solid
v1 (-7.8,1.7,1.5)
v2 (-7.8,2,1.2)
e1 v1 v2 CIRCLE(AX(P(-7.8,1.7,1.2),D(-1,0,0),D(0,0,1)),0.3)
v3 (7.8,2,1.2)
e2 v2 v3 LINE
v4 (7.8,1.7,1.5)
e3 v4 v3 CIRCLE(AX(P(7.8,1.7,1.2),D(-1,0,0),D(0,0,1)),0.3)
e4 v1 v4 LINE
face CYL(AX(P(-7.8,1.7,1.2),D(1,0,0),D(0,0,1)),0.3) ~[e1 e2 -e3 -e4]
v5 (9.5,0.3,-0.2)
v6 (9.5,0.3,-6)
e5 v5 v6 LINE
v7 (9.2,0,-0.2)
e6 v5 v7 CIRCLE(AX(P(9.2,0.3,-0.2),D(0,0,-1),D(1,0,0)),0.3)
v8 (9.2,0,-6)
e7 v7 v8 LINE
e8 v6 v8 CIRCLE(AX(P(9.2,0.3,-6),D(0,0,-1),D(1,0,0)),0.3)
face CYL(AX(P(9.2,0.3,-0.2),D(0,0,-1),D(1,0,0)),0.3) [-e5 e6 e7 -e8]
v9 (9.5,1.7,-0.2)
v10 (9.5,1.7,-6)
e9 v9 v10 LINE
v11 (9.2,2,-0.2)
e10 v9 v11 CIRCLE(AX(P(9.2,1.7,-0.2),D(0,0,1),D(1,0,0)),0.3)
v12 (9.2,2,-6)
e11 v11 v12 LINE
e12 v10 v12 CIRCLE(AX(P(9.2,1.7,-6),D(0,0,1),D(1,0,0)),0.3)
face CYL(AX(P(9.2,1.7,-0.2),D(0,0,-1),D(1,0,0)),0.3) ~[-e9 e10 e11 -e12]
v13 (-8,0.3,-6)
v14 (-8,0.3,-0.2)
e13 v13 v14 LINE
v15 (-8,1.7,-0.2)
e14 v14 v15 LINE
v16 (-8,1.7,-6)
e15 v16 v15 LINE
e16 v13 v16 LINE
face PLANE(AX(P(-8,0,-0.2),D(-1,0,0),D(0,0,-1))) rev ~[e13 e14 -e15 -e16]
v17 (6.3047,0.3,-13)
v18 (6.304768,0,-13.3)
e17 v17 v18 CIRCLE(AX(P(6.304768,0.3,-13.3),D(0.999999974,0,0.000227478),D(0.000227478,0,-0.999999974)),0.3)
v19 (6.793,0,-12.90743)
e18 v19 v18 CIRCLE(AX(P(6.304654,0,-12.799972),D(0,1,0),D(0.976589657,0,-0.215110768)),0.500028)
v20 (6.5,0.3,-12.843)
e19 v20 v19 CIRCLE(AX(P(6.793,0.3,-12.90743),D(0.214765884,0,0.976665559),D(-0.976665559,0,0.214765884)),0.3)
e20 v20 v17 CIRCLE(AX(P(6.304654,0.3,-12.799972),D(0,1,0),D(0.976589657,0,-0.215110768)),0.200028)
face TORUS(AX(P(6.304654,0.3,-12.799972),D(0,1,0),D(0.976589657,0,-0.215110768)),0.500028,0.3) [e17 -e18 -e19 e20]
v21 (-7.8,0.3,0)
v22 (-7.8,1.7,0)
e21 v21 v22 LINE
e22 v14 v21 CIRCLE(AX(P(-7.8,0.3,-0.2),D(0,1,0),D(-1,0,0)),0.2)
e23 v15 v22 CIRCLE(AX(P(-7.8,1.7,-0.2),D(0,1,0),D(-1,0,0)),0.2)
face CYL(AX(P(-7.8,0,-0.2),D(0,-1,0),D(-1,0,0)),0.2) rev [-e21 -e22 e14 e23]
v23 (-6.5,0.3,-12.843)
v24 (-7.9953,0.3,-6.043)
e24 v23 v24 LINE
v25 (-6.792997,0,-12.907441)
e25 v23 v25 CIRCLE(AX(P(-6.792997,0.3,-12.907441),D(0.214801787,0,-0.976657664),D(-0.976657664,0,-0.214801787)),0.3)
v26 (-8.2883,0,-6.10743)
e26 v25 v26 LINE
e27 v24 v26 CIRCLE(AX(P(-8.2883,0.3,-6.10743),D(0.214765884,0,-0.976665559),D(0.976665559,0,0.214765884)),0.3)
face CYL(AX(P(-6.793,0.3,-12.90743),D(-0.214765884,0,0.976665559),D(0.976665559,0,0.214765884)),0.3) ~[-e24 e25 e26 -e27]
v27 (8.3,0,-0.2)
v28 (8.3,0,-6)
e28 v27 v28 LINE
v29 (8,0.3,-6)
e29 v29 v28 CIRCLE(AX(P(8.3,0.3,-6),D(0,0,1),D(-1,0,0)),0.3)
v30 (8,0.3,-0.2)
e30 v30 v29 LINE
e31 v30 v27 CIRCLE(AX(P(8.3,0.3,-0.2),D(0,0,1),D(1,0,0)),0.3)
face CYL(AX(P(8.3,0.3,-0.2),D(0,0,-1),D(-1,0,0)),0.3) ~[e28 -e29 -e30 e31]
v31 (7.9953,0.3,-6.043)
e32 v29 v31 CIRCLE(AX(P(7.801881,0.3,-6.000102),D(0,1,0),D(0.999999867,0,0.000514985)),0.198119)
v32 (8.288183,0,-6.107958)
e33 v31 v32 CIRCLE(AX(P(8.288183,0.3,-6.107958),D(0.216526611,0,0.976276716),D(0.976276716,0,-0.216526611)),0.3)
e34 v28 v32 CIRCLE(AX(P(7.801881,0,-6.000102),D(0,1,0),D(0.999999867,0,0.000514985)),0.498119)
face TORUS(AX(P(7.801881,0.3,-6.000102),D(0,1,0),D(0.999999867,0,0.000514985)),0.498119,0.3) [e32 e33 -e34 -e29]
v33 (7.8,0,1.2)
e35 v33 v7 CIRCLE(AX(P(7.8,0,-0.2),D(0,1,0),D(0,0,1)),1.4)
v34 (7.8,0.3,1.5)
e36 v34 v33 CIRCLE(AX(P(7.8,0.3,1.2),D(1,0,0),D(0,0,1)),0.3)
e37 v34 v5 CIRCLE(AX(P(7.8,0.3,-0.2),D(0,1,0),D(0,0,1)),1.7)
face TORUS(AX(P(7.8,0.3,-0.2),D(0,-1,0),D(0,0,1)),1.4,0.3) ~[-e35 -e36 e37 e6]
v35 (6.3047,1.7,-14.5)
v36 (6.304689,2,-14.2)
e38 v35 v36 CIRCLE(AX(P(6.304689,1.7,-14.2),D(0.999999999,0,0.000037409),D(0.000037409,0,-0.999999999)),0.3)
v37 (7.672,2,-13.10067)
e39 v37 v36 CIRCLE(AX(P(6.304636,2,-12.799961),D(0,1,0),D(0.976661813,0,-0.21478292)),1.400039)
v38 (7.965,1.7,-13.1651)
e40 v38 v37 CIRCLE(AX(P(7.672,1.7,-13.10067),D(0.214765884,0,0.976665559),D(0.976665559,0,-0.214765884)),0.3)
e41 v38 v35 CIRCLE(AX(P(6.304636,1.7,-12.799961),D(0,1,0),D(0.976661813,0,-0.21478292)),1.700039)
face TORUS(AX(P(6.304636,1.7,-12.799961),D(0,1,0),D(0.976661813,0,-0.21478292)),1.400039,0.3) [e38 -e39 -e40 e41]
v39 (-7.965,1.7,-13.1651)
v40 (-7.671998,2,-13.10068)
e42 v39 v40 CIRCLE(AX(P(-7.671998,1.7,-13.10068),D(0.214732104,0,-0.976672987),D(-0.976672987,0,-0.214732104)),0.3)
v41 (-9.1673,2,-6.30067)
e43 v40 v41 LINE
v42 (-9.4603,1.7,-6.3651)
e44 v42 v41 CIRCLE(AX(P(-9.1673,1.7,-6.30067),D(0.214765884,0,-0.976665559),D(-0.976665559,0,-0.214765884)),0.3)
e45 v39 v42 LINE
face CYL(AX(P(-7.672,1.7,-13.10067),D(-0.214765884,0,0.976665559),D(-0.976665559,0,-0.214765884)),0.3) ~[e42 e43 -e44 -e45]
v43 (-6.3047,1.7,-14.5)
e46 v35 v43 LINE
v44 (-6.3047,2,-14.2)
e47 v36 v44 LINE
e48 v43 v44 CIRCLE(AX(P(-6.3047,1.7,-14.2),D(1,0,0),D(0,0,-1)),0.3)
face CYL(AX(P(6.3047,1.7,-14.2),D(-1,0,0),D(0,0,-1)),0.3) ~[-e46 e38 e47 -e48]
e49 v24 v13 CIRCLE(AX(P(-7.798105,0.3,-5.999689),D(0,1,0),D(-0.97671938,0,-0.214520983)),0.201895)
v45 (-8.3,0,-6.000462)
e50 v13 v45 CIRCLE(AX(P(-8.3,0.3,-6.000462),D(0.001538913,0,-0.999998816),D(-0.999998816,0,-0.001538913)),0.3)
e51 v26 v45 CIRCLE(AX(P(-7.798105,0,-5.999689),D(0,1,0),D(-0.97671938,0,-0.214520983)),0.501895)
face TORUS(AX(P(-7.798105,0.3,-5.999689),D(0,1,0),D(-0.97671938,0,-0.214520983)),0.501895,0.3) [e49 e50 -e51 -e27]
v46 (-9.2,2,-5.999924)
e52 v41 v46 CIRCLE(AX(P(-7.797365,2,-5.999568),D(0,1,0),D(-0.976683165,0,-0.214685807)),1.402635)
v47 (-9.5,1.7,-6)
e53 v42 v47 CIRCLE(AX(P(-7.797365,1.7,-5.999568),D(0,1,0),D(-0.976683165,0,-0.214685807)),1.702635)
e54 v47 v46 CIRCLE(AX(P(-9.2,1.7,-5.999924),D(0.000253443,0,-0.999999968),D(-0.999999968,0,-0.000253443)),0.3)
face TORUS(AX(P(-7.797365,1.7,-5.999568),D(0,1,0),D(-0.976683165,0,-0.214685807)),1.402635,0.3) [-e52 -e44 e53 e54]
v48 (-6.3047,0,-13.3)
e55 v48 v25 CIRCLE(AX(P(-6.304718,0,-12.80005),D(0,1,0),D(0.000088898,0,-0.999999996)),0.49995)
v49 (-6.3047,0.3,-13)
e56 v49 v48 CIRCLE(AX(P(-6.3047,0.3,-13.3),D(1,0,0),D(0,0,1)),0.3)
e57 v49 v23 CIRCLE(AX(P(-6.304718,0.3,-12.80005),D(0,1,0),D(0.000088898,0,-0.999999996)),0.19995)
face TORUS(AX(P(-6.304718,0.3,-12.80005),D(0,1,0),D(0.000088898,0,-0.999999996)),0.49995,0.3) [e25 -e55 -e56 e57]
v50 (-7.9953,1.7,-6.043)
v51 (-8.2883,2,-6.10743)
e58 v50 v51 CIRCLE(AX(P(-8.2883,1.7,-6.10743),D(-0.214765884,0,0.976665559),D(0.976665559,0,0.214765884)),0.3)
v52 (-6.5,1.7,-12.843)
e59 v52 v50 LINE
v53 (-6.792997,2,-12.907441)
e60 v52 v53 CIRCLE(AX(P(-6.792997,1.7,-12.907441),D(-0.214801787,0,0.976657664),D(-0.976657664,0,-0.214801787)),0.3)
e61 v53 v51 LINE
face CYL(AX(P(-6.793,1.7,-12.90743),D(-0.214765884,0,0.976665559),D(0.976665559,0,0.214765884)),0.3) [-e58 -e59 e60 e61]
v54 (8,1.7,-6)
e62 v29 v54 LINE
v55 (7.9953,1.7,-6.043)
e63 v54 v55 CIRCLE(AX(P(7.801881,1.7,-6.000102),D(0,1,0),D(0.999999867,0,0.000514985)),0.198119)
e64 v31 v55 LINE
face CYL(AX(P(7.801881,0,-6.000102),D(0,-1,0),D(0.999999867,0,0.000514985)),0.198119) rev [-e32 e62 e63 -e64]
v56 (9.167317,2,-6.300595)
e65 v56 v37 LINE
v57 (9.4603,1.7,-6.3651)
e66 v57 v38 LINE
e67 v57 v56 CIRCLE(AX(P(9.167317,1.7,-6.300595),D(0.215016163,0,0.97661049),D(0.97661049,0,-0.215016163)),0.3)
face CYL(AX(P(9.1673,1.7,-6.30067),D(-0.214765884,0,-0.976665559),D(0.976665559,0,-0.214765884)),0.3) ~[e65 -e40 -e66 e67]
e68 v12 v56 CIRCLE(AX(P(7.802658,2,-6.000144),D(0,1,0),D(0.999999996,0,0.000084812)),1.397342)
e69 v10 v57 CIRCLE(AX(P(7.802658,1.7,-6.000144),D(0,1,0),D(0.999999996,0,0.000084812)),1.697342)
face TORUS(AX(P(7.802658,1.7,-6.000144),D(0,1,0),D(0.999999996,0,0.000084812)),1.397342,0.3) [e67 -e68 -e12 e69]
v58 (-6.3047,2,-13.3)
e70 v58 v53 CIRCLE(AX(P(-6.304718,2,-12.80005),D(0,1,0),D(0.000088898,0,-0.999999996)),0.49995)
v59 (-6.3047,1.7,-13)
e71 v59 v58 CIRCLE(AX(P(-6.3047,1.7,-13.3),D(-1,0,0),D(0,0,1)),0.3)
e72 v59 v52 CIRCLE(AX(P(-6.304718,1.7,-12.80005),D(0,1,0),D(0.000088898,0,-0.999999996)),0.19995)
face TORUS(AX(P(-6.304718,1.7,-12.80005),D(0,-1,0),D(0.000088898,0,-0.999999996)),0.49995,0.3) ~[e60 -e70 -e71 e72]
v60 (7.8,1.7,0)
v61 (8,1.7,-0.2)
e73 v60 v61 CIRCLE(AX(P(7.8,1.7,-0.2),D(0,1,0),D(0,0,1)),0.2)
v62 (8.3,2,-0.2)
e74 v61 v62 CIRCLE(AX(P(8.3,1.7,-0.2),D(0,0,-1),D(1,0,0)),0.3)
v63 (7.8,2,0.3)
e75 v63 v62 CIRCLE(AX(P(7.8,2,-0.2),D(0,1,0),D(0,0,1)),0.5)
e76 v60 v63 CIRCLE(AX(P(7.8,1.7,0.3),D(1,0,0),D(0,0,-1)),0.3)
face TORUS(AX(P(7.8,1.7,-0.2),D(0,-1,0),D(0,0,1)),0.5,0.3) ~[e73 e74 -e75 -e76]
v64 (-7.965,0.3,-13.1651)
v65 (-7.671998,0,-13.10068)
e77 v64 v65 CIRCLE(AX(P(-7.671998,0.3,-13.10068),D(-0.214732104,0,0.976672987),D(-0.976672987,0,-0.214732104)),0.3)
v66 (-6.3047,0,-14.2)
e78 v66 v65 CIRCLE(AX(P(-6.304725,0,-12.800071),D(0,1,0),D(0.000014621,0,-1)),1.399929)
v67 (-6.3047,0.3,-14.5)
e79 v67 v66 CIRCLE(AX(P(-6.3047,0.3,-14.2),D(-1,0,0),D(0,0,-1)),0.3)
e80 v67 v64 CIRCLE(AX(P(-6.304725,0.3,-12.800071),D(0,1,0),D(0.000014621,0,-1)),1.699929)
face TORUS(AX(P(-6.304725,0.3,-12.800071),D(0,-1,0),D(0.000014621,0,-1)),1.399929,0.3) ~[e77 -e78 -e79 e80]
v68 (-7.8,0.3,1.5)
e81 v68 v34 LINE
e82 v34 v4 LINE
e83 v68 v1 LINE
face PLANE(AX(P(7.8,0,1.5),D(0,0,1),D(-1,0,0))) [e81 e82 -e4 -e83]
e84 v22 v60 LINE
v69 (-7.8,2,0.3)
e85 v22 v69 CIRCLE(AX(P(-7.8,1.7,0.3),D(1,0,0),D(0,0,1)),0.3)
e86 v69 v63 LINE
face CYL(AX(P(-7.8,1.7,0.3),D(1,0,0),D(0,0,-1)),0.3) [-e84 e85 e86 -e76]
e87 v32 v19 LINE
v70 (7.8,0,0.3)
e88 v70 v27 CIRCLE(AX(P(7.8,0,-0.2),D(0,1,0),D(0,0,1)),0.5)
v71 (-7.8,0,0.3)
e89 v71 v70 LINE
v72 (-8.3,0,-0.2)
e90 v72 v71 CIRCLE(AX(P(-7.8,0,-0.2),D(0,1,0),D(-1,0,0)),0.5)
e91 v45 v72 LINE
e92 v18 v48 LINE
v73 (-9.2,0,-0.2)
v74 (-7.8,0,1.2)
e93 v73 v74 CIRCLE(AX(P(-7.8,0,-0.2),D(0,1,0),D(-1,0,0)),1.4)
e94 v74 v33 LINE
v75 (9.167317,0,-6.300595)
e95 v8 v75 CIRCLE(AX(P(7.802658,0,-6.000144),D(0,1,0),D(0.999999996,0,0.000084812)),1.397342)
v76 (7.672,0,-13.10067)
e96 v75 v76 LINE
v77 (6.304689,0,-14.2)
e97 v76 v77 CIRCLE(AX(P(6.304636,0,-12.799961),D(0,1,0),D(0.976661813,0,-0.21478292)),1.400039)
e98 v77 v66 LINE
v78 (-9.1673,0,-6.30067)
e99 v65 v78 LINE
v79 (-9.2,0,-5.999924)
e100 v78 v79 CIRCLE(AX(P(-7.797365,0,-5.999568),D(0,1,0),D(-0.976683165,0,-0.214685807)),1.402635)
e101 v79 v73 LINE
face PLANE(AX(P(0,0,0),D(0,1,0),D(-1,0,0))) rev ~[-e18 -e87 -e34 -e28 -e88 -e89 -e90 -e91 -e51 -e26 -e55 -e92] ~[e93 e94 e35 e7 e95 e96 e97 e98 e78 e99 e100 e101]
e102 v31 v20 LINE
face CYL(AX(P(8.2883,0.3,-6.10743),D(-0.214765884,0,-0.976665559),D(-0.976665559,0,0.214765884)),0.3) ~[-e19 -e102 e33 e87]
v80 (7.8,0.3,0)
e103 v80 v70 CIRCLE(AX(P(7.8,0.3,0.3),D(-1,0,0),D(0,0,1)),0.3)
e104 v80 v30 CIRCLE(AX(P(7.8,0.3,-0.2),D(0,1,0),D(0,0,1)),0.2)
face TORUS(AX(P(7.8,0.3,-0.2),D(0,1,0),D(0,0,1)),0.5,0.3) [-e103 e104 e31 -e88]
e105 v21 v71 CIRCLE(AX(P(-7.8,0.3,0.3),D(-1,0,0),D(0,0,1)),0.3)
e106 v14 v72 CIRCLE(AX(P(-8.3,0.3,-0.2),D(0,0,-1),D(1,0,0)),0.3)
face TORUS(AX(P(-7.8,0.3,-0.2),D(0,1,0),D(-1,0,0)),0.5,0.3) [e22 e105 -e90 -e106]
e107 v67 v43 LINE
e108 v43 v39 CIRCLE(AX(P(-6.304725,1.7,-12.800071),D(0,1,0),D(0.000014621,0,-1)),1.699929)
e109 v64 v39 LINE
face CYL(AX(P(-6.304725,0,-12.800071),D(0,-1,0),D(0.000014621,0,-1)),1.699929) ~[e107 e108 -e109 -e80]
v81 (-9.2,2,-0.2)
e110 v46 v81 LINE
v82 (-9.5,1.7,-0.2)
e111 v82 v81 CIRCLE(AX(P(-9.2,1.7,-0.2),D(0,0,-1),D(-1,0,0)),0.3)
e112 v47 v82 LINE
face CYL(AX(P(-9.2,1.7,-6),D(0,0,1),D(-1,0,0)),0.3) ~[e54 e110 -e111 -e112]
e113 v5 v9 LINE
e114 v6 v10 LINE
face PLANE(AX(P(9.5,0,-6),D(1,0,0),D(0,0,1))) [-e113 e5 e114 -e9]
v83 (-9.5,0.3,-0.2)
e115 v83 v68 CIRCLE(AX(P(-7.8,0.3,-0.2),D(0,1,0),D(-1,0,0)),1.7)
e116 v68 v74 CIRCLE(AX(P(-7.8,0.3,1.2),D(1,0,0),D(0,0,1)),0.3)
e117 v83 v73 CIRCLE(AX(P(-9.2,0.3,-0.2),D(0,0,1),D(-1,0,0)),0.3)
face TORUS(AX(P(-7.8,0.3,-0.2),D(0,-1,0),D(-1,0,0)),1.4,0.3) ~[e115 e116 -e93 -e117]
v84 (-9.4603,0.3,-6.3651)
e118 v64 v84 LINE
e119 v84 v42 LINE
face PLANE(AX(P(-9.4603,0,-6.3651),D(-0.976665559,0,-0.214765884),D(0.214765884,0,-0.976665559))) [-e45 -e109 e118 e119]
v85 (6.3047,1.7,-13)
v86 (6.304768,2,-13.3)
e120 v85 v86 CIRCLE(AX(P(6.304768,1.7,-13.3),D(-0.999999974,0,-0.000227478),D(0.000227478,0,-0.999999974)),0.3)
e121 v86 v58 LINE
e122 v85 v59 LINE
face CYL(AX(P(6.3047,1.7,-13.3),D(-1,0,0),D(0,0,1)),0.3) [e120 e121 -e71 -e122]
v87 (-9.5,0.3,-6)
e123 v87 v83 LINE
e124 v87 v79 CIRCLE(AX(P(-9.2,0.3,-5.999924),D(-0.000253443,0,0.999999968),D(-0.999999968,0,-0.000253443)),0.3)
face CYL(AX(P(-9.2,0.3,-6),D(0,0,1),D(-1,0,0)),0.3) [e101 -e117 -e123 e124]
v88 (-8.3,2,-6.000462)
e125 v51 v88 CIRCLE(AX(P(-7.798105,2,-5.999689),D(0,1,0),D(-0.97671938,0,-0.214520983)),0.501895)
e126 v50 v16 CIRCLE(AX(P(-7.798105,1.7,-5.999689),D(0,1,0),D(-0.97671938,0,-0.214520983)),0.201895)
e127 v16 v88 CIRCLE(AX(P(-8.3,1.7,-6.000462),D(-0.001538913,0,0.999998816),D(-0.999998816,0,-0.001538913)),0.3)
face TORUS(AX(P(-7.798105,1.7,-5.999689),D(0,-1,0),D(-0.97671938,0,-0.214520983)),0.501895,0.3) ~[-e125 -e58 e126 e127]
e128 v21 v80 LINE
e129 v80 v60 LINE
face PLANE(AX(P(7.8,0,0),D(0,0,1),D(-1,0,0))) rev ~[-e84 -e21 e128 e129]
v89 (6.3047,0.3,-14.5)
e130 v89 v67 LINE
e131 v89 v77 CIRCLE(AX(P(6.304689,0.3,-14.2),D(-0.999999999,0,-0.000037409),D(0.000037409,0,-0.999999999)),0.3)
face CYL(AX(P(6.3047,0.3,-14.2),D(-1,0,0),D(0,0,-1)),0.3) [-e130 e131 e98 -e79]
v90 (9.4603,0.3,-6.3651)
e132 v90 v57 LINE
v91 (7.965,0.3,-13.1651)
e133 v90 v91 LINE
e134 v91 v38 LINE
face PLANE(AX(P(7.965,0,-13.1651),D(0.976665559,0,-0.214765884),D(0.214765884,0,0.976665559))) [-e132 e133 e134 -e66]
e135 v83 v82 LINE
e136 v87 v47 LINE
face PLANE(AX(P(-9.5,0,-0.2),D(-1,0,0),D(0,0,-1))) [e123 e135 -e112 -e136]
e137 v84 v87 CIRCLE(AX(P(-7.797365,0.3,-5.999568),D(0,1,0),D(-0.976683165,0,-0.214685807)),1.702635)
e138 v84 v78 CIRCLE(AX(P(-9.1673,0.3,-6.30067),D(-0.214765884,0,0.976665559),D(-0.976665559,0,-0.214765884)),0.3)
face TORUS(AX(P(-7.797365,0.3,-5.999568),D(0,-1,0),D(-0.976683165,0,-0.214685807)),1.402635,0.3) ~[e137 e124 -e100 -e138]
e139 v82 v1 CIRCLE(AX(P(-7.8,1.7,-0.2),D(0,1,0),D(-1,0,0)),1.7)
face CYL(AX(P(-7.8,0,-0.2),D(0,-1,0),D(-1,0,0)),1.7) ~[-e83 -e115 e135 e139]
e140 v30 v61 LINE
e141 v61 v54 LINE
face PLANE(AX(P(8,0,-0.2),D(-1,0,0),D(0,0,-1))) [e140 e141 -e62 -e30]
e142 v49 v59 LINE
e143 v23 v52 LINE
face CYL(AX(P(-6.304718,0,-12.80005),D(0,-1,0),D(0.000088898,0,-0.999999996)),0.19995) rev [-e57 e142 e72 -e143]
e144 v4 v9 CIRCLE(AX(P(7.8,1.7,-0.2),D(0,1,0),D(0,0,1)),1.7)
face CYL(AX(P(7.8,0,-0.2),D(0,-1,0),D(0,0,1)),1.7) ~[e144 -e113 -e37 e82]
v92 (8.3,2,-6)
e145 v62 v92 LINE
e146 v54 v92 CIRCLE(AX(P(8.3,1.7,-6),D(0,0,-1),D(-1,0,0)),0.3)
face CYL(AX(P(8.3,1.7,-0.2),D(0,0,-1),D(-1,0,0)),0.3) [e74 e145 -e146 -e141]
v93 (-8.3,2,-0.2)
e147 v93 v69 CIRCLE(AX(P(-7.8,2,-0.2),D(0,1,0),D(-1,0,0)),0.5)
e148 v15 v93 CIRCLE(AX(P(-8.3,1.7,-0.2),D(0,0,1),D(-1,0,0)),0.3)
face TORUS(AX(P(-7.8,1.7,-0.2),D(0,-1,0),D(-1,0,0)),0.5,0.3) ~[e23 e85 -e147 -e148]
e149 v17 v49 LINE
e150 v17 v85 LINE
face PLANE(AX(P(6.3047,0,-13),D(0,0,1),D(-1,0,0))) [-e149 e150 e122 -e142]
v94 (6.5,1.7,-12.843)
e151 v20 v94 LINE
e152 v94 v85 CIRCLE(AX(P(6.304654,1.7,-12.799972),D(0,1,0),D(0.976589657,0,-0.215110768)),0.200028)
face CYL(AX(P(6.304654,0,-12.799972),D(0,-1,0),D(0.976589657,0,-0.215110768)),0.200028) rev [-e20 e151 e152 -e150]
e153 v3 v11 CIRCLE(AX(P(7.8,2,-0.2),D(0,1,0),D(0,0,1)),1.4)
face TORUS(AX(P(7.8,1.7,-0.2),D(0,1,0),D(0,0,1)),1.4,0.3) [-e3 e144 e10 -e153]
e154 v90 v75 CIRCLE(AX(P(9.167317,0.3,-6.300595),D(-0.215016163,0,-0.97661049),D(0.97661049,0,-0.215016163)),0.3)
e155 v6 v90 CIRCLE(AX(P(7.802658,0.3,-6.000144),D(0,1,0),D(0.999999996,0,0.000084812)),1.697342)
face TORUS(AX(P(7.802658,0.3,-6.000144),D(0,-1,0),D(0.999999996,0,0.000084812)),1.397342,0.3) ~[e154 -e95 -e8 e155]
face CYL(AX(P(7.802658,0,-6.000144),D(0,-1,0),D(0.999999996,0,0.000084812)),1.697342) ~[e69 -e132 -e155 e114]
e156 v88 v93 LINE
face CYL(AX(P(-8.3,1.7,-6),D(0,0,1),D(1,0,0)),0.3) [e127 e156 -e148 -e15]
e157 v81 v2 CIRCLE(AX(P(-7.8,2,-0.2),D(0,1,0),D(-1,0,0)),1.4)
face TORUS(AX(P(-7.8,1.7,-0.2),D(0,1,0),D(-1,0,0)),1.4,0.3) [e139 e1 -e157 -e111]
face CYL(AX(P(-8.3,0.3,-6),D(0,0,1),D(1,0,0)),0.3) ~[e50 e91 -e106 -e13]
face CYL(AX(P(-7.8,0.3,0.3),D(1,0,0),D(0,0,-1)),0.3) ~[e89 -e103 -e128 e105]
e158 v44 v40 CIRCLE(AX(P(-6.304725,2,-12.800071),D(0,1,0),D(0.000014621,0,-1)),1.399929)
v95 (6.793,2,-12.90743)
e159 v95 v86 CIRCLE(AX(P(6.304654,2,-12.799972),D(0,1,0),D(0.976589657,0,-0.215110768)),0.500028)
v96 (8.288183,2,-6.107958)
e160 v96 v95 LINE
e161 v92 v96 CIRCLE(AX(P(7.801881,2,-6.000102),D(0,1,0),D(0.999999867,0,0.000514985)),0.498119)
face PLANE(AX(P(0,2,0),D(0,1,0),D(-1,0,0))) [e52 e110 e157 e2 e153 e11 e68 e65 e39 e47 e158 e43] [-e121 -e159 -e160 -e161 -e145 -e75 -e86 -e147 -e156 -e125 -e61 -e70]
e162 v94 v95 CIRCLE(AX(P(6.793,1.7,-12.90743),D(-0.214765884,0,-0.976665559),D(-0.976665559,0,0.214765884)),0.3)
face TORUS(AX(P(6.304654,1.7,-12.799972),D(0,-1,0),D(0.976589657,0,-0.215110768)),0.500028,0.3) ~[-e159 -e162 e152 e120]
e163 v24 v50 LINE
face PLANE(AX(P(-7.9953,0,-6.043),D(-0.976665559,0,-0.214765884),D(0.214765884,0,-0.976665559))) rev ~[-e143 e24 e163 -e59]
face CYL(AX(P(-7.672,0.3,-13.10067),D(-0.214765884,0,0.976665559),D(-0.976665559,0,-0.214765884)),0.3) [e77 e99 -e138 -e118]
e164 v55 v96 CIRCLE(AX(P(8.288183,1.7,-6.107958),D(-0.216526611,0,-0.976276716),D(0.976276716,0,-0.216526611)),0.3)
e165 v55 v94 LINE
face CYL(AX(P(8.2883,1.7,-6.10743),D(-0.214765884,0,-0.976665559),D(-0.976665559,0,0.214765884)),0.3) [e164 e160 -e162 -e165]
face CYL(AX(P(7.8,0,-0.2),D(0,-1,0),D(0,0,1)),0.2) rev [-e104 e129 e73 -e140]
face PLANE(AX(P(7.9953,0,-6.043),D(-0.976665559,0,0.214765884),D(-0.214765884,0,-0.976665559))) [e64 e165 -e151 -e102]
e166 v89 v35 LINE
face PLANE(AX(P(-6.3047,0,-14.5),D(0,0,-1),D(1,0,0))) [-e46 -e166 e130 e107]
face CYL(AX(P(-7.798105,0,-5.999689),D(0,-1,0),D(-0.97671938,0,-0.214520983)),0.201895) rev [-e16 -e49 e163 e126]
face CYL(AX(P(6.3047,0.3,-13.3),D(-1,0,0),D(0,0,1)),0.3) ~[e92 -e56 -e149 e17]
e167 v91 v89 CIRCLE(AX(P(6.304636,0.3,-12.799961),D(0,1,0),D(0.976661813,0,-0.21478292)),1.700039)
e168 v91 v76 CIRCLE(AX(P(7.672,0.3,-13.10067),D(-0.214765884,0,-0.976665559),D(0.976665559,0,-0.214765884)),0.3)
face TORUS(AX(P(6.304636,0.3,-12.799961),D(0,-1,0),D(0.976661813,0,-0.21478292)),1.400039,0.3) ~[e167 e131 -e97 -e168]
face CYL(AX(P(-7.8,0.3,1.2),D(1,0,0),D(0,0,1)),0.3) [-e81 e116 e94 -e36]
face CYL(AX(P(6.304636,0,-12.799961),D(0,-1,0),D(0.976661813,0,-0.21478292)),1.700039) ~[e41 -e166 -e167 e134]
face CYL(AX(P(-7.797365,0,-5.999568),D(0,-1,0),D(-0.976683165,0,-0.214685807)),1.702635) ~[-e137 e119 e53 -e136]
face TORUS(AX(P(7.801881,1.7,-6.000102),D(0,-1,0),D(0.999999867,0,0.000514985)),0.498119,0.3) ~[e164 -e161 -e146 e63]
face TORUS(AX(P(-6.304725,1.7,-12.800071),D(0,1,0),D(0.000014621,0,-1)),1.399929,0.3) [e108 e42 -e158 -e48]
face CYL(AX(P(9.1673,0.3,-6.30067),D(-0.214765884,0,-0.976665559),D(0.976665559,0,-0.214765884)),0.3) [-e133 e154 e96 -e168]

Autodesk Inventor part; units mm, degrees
ref_plane "YZ Plane" through (0, 0, 0) normal (1, 0, 0) x (0, 1, 0)
ref_plane "XZ Plane" through (0, 0, 0) normal (0, 1, 0) x (-1, 0, 0)
ref_plane "XY Plane" through (0, 0, 0) normal (0, 0, 1) x (1, 0, 0)
sketch "Sketch1" plane through (0, 0, 0) normal (0, 1, 0) x (-1, 0, 0)
  line L0 (-7.8, 0) -> (7.8, 0)
  arc A0 (8, -0.2) -> (7.8, 0) centre (7.8, -0.2) ccw
  arc A1 (-7.8, 0) -> (-8, -0.2) centre (-7.8, -0.2) ccw
  line L1 (-8, -0.2) -> (-8, -6)
  line L2 (8, -0.2) -> (8, -6)
  arc A2 (-8, -6) -> (-7.9953, -6.043) centre (-7.8, -6) ccw
  arc A3 (7.9953, -6.043) -> (8, -6) centre (7.8, -6) ccw
  line L3 (-7.9953, -6.043) -> (-6.5, -12.843)
  line L4 (7.9953, -6.043) -> (6.5, -12.843)
  arc A4 (-6.5, -12.843) -> (-6.3047, -13) centre (-6.3047, -12.8) ccw
  line L5 (-6.3047, -13) -> (6.3047, -13)
  arc A5 (6.3047, -13) -> (6.5, -12.843) centre (6.3047, -12.8) ccw
  line L6 (-9.5, -6) -> (-9.5, -0.2)
  arc A6 (-7.8, 1.5) -> (-9.5, -0.2) centre (-7.8, -0.2) ccw
  line L7 (-7.8, 1.5) -> (7.8, 1.5)
  arc A7 (9.5, -0.2) -> (7.8, 1.5) centre (7.8, -0.2) ccw
  line L8 (9.5, -0.2) -> (9.5, -6)
  arc A8 (9.4603, -6.3651) -> (9.5, -6) centre (7.8, -6) ccw
  line L9 (9.4603, -6.3651) -> (7.965, -13.1651)
  arc A9 (6.3047, -14.5) -> (7.965, -13.1651) centre (6.3047, -12.8) ccw
  line L10 (6.3047, -14.5) -> (-6.3047, -14.5)
  arc A10 (-7.965, -13.1651) -> (-6.3047, -14.5) centre (-6.3047, -12.8) ccw
  line L11 (-7.965, -13.1651) -> (-9.4603, -6.3651)
  arc A11 (-9.5, -6) -> (-9.4603, -6.3651) centre (-7.8, -6) ccw
  point P0 (0, 0)
  point P1 (0, 0)
  point P2 (0, -13)
  dimension "d0" = 0.2
  dimension "d1" = 0.2
  dimension "d2" = 16
  dimension "d3" = 6
  dimension "d4" = 0.2
  dimension "d5" = 0.2
  dimension "d6" = 0.2
  dimension "d7" = 0.2
  dimension "d8" = 13
  dimension "d9" = 13
  dimension "d10" = 1.5
extrude "Extrusion1" add sketch "Sketch1" along normal blind 2
fillet "Fillet1" radius 0.3 48 edges at (9.0021, 2, 1.0021) (9.5, 2, -3.1) (9.4901, 2, -6.1836) (8.7127, 2, -9.7651) (7.3699, 2, -14.1249) (0, 2, -14.5) (-7.3699, 2, -14.1249) (-8.7127, 2, -9.7651) (-9.4901, 2, -6.1836) (-9.5, 2, -3.1) (-9.0021, 2, 1.0021) (0, 2, 1.5) (-7.9414, 2, -0.0586) (-8, 2, -3.1) (-7.9988, 2, -6.0216) (-7.2477, 2, -9.443) (-6.43, 2, -12.9559) (0, 2, -13) (6.43, 2, -12.9559) (7.2477, 2, -9.443) (7.9988, 2, -6.0216) (8, 2, -3.1) (7.9414, 2, -0.0586) (0, 2, 0) (-9.0021, 0, 1.0021) (-9.5, 0, -3.1) (-9.4901, 0, -6.1836) (-8.7127, 0, -9.7651) (-7.3699, 0, -14.1249) (0, 0, -14.5) (7.3699, 0, -14.1249) (8.7127, 0, -9.7651) (9.4901, 0, -6.1836) (9.5, 0, -3.1) (9.0021, 0, 1.0021) (0, 0, 1.5) (7.9414, 0, -0.0586) (8, 0, -3.1) (7.9988, 0, -6.0216) (7.2477, 0, -9.443) (6.43, 0, -12.9559) (0, 0, -13) (-6.43, 0, -12.9559) (-7.2477, 0, -9.443) (-7.9988, 0, -6.0216) (-8, 0, -3.1) (-7.9414, 0, -0.0586) (0, 0, 0)
equation "\"d1\" = d0"
equation "\"d4\" = d0"
equation "\"d5\" = d4"
equation "\"d6\" = d5"
equation "\"d7\" = d6"
properties part number "y_carryage_nut_holder_a_zip_tie"
